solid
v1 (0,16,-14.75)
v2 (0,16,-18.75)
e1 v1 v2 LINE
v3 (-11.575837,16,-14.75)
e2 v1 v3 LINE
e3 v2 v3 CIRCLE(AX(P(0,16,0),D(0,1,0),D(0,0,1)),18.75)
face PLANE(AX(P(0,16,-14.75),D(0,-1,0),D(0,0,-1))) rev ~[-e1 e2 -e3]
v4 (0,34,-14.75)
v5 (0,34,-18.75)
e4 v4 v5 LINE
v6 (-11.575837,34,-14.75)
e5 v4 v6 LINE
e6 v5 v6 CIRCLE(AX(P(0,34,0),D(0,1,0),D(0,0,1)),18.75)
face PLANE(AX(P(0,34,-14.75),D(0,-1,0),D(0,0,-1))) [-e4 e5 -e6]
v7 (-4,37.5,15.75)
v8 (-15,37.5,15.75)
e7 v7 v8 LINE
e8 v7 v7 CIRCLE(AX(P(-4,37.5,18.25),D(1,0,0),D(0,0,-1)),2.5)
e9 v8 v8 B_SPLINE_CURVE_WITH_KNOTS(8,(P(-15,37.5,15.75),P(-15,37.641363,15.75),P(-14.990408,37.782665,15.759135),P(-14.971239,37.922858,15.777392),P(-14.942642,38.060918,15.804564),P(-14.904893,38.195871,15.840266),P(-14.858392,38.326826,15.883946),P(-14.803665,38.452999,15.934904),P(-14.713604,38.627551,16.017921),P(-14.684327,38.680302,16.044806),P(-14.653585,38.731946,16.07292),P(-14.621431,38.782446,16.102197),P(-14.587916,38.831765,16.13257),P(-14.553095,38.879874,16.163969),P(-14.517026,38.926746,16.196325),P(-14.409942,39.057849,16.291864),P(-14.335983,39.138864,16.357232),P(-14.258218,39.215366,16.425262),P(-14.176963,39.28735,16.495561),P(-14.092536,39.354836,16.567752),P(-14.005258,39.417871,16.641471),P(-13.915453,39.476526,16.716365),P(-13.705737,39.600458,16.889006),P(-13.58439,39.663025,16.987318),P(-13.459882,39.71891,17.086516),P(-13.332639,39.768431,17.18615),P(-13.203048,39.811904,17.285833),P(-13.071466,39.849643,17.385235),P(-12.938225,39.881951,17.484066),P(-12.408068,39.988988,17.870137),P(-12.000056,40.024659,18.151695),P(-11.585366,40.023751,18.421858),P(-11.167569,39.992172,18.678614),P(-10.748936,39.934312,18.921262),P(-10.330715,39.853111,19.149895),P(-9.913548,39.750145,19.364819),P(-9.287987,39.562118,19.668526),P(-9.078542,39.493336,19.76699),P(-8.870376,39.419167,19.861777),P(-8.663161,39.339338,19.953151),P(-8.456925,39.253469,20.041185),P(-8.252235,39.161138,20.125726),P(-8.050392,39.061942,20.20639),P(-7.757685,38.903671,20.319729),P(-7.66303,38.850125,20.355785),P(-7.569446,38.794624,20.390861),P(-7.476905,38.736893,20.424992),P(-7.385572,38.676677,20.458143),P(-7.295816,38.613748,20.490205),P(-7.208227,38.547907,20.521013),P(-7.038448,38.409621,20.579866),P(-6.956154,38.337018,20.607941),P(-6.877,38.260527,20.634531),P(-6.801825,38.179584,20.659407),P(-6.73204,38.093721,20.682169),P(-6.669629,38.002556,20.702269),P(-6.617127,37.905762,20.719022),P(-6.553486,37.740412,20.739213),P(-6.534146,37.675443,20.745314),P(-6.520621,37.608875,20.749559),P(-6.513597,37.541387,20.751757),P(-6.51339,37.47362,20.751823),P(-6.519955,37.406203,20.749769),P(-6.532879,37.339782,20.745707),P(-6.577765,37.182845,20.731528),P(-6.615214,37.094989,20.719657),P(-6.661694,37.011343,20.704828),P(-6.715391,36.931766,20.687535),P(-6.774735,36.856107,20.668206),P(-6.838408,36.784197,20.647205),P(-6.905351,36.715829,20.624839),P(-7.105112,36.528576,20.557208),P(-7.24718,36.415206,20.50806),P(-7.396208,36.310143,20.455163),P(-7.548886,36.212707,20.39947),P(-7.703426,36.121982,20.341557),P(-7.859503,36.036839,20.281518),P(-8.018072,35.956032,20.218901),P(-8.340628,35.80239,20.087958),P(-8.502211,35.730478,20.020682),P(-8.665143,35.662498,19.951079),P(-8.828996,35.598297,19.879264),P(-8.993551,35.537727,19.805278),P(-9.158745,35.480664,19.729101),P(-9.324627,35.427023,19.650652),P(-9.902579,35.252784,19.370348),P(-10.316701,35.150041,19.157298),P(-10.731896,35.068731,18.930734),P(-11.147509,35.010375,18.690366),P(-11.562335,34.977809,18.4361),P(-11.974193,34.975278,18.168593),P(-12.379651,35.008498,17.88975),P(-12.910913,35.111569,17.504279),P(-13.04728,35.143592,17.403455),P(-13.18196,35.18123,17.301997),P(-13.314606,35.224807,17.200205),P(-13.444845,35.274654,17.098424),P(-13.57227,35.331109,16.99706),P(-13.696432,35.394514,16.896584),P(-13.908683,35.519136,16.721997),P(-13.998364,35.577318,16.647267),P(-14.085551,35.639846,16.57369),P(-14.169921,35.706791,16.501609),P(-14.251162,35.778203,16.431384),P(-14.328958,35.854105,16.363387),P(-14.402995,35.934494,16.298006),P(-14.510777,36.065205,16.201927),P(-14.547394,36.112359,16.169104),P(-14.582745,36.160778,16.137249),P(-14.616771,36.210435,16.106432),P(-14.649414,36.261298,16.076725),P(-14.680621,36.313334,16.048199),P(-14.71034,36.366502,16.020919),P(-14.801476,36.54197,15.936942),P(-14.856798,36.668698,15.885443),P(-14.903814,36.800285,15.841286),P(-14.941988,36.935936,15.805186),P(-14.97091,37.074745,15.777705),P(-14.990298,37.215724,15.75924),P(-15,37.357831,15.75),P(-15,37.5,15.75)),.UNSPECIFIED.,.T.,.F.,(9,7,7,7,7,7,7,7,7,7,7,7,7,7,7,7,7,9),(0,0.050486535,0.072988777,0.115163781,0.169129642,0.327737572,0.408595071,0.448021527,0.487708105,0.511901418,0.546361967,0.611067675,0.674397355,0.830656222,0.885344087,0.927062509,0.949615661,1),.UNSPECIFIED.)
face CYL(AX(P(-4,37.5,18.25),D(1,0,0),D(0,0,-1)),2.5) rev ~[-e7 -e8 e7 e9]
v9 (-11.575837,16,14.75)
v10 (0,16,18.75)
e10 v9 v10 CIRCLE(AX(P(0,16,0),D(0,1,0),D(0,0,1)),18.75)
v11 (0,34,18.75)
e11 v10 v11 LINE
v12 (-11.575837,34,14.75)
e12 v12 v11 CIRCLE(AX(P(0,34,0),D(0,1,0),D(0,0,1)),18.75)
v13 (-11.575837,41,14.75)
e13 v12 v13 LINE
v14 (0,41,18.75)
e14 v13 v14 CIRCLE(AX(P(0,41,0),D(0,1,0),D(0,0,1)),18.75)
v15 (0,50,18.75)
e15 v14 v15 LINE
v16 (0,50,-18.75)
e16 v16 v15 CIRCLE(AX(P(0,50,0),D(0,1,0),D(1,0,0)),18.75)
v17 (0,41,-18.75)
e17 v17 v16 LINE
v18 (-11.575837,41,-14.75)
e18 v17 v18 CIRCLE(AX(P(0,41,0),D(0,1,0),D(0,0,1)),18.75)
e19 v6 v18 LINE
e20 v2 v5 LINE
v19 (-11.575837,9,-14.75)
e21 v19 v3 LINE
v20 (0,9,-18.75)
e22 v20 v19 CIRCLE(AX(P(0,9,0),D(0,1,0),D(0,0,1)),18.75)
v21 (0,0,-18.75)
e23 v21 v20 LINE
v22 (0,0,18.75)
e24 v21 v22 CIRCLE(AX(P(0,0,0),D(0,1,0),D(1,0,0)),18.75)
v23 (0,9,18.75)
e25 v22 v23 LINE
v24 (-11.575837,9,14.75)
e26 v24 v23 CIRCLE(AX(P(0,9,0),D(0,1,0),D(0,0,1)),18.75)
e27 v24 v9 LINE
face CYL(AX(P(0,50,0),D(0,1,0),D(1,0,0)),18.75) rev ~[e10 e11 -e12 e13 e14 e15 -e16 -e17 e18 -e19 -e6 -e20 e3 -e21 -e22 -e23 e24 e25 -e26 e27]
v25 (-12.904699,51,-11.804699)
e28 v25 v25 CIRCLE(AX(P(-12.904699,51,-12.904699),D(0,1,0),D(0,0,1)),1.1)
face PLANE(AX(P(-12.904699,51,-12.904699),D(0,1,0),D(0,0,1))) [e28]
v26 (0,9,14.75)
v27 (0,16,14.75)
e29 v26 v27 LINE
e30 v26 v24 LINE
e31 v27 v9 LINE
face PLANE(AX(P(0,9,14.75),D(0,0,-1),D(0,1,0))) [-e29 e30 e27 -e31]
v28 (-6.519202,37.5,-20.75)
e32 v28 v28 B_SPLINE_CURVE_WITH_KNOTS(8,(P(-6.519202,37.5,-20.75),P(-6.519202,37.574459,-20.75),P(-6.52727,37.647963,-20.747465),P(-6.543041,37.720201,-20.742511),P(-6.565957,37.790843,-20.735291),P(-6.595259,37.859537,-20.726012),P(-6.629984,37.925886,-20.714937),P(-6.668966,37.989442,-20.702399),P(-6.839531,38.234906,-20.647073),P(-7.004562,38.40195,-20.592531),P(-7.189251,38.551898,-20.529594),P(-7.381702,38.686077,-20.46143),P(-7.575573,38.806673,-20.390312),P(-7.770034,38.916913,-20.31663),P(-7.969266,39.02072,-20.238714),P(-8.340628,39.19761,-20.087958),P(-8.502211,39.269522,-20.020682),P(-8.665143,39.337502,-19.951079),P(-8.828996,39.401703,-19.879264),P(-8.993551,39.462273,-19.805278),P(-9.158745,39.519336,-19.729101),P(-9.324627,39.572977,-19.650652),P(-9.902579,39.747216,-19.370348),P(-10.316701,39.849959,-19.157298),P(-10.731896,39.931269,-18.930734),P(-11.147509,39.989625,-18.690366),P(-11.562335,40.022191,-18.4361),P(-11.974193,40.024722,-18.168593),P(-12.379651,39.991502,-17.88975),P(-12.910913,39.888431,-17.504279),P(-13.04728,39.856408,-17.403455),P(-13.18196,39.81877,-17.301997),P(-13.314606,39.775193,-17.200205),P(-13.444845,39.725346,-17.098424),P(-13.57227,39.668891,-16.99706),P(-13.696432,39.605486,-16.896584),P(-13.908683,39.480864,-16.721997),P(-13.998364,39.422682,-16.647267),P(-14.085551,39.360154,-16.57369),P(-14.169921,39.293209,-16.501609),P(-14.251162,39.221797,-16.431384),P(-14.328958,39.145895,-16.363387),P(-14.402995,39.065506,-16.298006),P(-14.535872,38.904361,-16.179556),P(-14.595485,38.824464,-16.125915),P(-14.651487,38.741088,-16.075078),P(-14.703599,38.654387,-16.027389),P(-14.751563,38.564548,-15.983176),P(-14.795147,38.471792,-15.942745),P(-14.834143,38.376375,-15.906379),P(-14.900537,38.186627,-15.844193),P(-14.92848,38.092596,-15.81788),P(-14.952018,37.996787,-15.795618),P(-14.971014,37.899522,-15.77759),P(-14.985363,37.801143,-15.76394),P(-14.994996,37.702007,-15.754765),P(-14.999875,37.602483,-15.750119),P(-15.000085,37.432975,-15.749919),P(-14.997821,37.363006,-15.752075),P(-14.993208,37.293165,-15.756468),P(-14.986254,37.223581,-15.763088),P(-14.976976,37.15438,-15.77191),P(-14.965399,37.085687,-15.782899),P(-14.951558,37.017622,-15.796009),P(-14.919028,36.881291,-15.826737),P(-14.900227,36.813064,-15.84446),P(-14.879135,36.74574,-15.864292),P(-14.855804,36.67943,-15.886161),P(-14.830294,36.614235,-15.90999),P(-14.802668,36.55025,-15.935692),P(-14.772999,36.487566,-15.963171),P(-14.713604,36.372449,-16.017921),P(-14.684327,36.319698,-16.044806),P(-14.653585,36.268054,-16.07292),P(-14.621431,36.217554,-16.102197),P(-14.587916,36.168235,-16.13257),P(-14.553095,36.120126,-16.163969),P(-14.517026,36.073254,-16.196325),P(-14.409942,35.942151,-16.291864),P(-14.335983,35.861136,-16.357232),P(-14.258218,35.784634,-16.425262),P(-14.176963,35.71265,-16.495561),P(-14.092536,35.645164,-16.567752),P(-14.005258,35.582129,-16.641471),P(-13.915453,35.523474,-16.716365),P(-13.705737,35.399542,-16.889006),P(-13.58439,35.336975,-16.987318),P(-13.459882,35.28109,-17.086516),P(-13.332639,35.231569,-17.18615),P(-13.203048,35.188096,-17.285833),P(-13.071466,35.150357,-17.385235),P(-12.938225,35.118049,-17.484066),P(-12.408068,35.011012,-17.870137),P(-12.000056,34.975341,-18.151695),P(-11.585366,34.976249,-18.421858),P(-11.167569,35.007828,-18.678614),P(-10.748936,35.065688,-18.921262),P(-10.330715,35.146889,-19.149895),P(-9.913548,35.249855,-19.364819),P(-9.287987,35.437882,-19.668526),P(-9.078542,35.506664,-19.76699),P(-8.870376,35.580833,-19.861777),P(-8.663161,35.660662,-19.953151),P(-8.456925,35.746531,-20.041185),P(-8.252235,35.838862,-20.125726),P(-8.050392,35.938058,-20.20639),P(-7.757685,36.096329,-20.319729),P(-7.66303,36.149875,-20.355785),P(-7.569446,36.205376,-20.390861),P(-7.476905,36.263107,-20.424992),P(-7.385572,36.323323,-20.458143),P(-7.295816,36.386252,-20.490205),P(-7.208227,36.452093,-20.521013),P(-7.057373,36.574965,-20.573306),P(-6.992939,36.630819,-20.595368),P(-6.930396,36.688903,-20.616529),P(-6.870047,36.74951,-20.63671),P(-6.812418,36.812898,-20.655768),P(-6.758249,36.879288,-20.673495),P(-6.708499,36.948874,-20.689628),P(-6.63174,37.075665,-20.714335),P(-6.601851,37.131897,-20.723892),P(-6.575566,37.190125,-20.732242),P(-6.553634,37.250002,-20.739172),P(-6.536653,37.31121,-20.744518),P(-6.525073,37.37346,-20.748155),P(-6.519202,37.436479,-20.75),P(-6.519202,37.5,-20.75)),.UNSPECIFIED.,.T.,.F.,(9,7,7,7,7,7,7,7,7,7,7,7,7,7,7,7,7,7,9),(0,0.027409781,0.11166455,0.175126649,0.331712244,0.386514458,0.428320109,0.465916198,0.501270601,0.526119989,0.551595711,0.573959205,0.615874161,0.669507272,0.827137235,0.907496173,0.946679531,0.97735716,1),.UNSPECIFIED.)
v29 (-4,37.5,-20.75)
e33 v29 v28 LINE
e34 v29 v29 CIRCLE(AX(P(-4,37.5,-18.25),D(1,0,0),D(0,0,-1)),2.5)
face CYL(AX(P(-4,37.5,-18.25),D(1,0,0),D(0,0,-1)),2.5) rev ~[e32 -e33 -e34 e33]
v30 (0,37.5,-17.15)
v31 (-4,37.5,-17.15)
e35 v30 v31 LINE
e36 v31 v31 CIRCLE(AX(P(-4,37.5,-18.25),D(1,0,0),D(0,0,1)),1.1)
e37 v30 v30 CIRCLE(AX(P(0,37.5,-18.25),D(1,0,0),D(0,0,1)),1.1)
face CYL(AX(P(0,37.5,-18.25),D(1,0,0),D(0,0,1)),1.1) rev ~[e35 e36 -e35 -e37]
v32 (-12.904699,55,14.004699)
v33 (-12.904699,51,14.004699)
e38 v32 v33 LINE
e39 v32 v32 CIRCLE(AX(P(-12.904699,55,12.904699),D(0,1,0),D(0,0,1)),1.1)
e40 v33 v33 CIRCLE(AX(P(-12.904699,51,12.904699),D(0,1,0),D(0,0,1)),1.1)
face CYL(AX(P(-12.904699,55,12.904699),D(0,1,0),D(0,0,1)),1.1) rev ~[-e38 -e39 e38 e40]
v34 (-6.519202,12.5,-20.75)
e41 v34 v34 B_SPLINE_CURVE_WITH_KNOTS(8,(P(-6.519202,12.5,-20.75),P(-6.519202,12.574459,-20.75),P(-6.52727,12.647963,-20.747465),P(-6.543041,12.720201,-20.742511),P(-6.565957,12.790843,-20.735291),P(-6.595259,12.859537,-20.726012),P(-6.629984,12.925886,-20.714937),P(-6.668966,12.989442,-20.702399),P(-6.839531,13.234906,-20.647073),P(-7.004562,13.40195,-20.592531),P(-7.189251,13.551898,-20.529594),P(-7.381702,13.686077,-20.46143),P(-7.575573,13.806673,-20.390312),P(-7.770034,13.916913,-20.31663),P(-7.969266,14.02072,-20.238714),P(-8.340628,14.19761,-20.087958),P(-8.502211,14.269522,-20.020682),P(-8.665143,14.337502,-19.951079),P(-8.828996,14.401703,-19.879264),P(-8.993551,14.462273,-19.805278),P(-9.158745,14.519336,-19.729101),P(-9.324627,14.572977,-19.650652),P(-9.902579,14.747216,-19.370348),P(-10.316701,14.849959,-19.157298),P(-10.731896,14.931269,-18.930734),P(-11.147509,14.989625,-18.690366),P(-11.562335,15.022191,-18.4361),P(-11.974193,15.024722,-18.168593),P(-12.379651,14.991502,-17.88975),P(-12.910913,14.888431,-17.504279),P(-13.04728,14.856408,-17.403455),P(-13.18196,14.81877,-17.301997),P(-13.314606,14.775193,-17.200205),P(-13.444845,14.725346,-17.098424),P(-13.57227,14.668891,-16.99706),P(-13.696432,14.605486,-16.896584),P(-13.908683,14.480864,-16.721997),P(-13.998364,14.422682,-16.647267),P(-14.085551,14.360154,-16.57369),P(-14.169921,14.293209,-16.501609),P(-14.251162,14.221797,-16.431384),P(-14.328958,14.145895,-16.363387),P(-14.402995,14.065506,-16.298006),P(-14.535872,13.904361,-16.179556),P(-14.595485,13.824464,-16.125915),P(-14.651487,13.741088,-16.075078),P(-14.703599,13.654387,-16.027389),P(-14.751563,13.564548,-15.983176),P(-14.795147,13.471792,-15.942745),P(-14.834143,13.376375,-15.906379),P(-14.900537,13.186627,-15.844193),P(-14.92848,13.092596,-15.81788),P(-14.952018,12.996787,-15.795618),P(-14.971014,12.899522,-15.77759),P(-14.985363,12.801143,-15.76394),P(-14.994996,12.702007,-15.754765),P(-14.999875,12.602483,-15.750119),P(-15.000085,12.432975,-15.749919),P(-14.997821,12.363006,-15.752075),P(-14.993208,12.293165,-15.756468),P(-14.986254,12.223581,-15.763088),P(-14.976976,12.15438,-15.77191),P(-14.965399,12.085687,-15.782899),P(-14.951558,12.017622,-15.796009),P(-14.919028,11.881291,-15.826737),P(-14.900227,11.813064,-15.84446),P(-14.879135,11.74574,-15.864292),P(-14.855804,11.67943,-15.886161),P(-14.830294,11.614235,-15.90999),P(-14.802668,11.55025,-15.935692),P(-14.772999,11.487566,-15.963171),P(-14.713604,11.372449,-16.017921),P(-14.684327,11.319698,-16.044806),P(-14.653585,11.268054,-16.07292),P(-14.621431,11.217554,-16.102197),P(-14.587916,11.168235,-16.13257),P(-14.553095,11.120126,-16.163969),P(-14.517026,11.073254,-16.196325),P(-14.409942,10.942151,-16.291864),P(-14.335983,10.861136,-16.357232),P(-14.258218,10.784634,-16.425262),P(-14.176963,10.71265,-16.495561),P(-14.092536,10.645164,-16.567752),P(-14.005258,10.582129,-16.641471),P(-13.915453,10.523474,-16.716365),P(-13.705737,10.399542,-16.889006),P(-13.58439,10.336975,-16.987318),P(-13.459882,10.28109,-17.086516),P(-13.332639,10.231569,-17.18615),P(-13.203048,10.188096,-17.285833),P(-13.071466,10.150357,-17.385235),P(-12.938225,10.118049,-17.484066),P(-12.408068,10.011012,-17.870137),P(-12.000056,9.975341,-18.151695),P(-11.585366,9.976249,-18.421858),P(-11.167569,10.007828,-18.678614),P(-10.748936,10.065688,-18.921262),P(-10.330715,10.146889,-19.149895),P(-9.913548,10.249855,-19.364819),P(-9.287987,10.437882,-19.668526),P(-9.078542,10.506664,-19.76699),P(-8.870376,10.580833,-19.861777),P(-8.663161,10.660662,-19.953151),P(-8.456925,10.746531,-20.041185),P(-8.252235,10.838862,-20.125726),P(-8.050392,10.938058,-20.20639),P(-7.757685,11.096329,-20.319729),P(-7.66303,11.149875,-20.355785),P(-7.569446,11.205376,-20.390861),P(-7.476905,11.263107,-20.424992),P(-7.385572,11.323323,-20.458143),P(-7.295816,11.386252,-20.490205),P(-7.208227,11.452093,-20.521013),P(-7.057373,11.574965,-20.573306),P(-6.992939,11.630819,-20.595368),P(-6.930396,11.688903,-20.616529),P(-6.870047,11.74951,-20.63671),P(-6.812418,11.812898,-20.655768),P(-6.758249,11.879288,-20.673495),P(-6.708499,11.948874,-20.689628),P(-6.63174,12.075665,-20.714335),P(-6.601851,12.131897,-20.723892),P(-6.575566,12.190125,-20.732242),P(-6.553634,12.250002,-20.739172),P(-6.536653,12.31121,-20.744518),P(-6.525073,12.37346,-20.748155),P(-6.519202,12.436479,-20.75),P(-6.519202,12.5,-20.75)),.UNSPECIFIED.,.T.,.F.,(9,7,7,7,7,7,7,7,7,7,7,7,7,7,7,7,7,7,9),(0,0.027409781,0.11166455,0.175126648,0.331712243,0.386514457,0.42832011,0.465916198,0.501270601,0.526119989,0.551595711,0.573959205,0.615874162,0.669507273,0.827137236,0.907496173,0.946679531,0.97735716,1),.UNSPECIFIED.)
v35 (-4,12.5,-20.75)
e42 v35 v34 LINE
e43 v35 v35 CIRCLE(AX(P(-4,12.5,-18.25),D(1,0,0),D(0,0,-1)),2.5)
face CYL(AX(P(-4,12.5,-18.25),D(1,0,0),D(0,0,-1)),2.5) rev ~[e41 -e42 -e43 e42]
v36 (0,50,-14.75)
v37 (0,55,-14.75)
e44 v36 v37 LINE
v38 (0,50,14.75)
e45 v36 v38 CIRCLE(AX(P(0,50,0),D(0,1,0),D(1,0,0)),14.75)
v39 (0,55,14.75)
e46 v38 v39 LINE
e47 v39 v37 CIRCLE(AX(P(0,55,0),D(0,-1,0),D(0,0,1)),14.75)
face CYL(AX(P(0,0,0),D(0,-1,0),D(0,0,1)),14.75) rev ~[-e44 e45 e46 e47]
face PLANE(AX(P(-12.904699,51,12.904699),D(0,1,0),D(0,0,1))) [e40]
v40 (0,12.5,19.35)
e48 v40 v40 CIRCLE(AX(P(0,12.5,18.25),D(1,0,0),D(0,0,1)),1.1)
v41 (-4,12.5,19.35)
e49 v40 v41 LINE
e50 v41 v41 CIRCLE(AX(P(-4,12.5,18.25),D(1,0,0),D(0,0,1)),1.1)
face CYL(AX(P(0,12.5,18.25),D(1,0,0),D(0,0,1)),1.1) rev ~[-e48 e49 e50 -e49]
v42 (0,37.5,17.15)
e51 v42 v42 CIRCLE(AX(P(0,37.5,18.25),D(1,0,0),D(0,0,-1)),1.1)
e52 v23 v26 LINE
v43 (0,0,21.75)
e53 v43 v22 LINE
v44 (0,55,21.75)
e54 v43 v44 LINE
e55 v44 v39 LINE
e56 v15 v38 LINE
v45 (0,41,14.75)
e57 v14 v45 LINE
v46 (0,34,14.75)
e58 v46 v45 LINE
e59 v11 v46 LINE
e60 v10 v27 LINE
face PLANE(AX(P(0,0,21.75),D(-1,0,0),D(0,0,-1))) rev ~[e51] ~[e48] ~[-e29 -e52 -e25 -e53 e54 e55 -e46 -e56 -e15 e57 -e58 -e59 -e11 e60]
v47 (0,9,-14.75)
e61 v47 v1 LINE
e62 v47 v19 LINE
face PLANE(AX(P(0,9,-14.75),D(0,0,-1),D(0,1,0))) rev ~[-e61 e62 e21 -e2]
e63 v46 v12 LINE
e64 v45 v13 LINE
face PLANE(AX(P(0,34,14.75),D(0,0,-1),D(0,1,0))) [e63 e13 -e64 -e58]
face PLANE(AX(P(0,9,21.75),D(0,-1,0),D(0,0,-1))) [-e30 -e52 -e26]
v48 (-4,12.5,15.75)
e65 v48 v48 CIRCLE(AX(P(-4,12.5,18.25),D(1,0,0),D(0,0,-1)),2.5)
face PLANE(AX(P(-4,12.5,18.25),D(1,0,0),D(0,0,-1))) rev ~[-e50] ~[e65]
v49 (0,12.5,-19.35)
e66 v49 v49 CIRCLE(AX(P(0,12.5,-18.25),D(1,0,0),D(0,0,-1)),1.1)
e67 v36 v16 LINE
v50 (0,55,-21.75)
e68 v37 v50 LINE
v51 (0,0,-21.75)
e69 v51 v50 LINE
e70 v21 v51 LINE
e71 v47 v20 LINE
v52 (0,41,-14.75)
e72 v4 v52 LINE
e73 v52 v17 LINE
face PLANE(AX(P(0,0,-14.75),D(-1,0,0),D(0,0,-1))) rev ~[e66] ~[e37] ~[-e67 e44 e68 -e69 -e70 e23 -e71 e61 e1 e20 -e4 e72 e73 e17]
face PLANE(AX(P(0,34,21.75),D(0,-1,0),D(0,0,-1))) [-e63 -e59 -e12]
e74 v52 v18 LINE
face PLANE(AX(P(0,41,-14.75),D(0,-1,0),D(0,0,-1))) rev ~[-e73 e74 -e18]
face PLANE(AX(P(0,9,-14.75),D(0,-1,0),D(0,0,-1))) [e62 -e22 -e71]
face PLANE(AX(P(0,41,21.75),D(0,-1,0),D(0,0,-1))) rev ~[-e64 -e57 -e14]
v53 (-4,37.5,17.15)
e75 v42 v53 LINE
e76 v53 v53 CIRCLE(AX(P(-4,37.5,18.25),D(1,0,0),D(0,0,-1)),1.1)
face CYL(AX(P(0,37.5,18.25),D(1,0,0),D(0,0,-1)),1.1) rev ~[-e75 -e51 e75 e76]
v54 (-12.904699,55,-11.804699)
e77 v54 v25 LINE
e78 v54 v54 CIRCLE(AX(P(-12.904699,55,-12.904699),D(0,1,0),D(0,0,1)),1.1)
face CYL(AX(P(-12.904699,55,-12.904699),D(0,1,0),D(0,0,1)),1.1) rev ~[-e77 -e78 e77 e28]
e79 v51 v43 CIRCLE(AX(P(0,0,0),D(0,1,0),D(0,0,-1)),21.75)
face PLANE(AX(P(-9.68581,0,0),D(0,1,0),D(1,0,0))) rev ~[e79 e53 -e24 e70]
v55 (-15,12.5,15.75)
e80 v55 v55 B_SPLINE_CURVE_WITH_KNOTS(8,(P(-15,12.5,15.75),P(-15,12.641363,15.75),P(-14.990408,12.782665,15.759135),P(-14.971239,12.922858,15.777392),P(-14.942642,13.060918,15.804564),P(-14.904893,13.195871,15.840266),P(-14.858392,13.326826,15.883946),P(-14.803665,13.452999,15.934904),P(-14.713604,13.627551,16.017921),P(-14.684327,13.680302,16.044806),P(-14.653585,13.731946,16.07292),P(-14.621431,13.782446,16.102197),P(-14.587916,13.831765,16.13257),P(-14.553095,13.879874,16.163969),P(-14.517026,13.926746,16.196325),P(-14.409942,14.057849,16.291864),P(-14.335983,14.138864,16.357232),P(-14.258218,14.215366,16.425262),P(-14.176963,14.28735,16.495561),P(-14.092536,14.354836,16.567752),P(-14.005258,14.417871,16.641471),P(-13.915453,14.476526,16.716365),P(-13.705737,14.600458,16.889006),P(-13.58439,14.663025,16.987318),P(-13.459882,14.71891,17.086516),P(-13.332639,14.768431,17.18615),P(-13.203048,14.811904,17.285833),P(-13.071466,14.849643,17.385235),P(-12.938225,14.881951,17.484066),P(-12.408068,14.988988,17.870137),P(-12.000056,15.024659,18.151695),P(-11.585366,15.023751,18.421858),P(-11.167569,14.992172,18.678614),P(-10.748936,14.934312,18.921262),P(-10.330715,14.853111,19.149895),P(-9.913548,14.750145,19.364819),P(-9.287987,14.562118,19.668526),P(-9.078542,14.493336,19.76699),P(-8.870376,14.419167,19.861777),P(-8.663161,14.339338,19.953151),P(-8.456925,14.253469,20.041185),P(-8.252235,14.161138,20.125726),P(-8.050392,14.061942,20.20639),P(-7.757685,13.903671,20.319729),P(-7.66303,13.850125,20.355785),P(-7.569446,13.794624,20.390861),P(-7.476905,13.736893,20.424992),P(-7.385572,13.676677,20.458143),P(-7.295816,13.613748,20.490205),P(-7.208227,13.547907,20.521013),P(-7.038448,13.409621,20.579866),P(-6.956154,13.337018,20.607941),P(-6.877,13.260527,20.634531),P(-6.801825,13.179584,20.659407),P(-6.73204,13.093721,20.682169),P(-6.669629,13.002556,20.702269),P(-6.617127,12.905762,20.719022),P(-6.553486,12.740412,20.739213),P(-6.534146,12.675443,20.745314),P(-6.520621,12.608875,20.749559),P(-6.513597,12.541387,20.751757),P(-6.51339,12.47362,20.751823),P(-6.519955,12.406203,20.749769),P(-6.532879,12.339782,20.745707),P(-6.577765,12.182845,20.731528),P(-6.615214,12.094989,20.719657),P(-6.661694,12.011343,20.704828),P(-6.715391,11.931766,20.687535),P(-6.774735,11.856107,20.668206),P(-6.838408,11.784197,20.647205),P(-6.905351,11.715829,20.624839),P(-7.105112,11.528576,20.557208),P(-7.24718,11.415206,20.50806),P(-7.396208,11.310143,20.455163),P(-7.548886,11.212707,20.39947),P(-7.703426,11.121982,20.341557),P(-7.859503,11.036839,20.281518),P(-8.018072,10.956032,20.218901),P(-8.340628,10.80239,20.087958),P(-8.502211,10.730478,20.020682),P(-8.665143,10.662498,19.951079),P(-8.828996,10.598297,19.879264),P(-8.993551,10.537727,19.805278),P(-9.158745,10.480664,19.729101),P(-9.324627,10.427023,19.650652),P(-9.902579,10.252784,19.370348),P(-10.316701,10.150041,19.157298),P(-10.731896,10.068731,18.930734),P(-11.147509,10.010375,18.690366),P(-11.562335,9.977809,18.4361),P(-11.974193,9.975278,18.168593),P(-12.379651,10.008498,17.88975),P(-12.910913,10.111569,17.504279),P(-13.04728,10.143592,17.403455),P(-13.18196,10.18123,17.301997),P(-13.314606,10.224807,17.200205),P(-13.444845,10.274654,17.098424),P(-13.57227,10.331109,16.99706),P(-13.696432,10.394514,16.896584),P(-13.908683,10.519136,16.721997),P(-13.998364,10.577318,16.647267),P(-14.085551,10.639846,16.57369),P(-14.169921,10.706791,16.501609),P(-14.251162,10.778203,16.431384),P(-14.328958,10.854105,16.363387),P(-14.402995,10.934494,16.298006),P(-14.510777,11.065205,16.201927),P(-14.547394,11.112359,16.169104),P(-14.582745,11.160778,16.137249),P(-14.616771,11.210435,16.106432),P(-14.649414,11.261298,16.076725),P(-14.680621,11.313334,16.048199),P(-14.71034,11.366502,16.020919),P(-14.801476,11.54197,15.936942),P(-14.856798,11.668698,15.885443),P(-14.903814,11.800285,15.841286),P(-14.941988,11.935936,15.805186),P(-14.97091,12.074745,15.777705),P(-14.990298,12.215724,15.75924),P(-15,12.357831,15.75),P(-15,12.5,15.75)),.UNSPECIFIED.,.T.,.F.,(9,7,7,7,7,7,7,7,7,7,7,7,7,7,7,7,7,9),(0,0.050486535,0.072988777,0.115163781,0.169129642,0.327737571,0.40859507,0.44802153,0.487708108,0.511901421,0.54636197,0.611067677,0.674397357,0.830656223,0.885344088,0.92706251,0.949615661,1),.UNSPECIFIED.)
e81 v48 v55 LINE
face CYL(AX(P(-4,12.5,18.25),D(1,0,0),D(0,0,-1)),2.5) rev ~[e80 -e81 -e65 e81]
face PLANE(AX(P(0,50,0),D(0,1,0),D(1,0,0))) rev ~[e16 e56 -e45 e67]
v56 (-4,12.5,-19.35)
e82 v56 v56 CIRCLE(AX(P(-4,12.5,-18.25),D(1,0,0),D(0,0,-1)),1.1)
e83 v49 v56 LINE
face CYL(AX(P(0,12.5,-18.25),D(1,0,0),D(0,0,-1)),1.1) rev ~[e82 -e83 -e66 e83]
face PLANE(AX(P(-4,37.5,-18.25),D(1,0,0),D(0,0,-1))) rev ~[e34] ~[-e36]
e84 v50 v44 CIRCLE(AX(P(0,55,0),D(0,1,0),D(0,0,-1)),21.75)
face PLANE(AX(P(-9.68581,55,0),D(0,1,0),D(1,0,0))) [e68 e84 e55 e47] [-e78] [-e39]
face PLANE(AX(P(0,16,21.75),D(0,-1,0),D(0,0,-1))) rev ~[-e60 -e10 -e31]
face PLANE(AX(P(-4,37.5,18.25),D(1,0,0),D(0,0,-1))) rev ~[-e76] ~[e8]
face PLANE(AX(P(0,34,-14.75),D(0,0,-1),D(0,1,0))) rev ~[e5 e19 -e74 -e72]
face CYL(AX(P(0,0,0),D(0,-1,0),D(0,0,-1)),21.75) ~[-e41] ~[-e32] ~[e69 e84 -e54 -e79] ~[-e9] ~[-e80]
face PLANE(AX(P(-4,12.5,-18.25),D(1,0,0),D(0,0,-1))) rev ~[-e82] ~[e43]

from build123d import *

# Parameters (mm, degrees)
EXTRUDE_1_DEPTH      = 55
CUT_EXTRUDE_START    = -5
SKETCH_2_R           = 18.75
SKETCH_2_R_2         = 14.75
CUT_EXTRUDE_1_DEPTH  = 59.016862823
EXTRUDE_3_REACH      = 65.017
EXTRUDE_3_END_RADIUS = 18.75
SKETCH_4_W           = 7
SKETCH_4_H           = 7
SKETCH_3_R           = 1.1
CUT_EXTRUDE_2_DEPTH  = 5
CUT_EXTRUDE_START_2  = -4
SKETCH_5_R           = 2.5
CUT_EXTRUDE_3_DEPTH  = 60.016862823
SKETCH_6_R           = 1.1
CUT_EXTRUDE_4_DEPTH  = 4


with BuildPart() as part:
    # ｽｹｯﾁ1 → ﾎﾞｽ - 押し出し1 (new body)
    with BuildSketch(Plane(origin=(0, 0, 0), x_dir=(1, 0, 0), z_dir=(0, 1, 0))):
        with BuildLine():
            Line((0, -21.75), (0, -14.75))
            ThreePointArc((0, -14.75), (-14.75, 0), (0, 14.75))
            Line((0, 14.75), (0, 21.75))
            ThreePointArc((0, 21.75), (-21.75, 0), (0, -21.75))
        make_face()
    extrude(amount=EXTRUDE_1_DEPTH)

    # ｽｹｯﾁ2 → ｶｯﾄ - 押し出し1 (cut, through all)
    with BuildSketch(Plane(origin=(0, 55, 0), x_dir=(1, 0, 0), z_dir=(0, 1, 0)).offset(CUT_EXTRUDE_START)):
        Circle(SKETCH_2_R)
        Circle(SKETCH_2_R_2, mode=Mode.SUBTRACT)
    extrude(amount=-CUT_EXTRUDE_1_DEPTH, mode=Mode.SUBTRACT)

    # ﾎﾞｽ - 押し出し3: up to this cylinder (the profile starts inside it)
    extrude_3_end = Plane(origin=(0, 25, 0), z_dir=(0, 1, 0)) * Cylinder(EXTRUDE_3_END_RADIUS, 193.534, mode=Mode.PRIVATE)
    # ｽｹｯﾁ4 → ﾎﾞｽ - 押し出し3 (add, up to the surface)
    with BuildSketch(Plane(origin=(0, 0, 0), x_dir=(0, 0, -1), z_dir=(1, 0, 0)), mode=Mode.PRIVATE) as extrude_3_sk1:
        with Locations((-18.25, 37.5)):
            Rectangle(SKETCH_4_W, SKETCH_4_H)
    extrude_3_tool1 = extrude(extrude_3_sk1.sketch, amount=-EXTRUDE_3_REACH, mode=Mode.PRIVATE) & extrude_3_end
    add(extrude_3_tool1.solids().sort_by_distance((0, 37.5, 18.25))[0])
    # ｽｹｯﾁ4 → ﾎﾞｽ - 押し出し3 (add, up to the surface)
    with BuildSketch(Plane(origin=(0, 0, 0), x_dir=(0, 0, -1), z_dir=(1, 0, 0)), mode=Mode.PRIVATE) as extrude_3_sk2:
        with Locations((-18.25, 12.5)):
            Rectangle(SKETCH_4_W, SKETCH_4_H)
    extrude_3_tool2 = extrude(extrude_3_sk2.sketch, amount=-EXTRUDE_3_REACH, mode=Mode.PRIVATE) & extrude_3_end
    add(extrude_3_tool2.solids().sort_by_distance((0, 12.5, 18.25))[0])
    # ｽｹｯﾁ4 → ﾎﾞｽ - 押し出し3 (add, up to the surface)
    with BuildSketch(Plane(origin=(0, 0, 0), x_dir=(0, 0, -1), z_dir=(1, 0, 0)), mode=Mode.PRIVATE) as extrude_3_sk3:
        with Locations((18.25, 12.5)):
            Rectangle(SKETCH_4_W, SKETCH_4_H)
    extrude_3_tool3 = extrude(extrude_3_sk3.sketch, amount=-EXTRUDE_3_REACH, mode=Mode.PRIVATE) & extrude_3_end
    add(extrude_3_tool3.solids().sort_by_distance((0, 12.5, -18.25))[0])
    # ｽｹｯﾁ4 → ﾎﾞｽ - 押し出し3 (add, up to the surface)
    with BuildSketch(Plane(origin=(0, 0, 0), x_dir=(0, 0, -1), z_dir=(1, 0, 0)), mode=Mode.PRIVATE) as extrude_3_sk4:
        with Locations((18.25, 37.5)):
            Rectangle(SKETCH_4_W, SKETCH_4_H)
    extrude_3_tool4 = extrude(extrude_3_sk4.sketch, amount=-EXTRUDE_3_REACH, mode=Mode.PRIVATE) & extrude_3_end
    add(extrude_3_tool4.solids().sort_by_distance((0, 37.5, -18.25))[0])

    # ｽｹｯﾁ3 → ｶｯﾄ - 押し出し2 (cut)
    with BuildSketch(Plane(origin=(0, 0, 0), x_dir=(0, 0, -1), z_dir=(1, 0, 0))):
        with Locations((-18.25, 37.5)):
            Circle(SKETCH_3_R)
        with Locations(Location((18.25, 37.5, 0), (0, 0, 180))):
            Circle(SKETCH_3_R)
        with Locations((18.25, 12.5)):
            Circle(SKETCH_3_R)
        with Locations(Location((-18.25, 12.5, 0), (0, 0, 180))):
            Circle(SKETCH_3_R)
    extrude(amount=-CUT_EXTRUDE_2_DEPTH, mode=Mode.SUBTRACT)

    # ｽｹｯﾁ5 → ｶｯﾄ - 押し出し3 (cut, through all)
    with BuildSketch(Plane(origin=(0, 0, 0), x_dir=(0, 0, -1), z_dir=(1, 0, 0)).offset(CUT_EXTRUDE_START_2)):
        with Locations((-18.25, 37.5)):
            Circle(SKETCH_5_R)
        with Locations((-18.25, 12.5)):
            Circle(SKETCH_5_R)
        with Locations((18.25, 12.5)):
            Circle(SKETCH_5_R)
        with Locations((18.25, 37.5)):
            Circle(SKETCH_5_R)
    extrude(amount=-CUT_EXTRUDE_3_DEPTH, mode=Mode.SUBTRACT)

    # ｽｹｯﾁ6 → ｶｯﾄ - 押し出し4 (cut)
    with BuildSketch(Plane(origin=(0, 55, 0), x_dir=(1, 0, 0), z_dir=(0, 1, 0))):
        with Locations(Location((-12.904698757, -12.904698757, 0), (0, 0, 270))):
            Circle(SKETCH_6_R)
        with Locations(Location((-12.904698757, 12.904698757, 0), (0, 0, 270))):
            Circle(SKETCH_6_R)
    extrude(amount=-CUT_EXTRUDE_4_DEPTH, mode=Mode.SUBTRACT)


solid = part.part
